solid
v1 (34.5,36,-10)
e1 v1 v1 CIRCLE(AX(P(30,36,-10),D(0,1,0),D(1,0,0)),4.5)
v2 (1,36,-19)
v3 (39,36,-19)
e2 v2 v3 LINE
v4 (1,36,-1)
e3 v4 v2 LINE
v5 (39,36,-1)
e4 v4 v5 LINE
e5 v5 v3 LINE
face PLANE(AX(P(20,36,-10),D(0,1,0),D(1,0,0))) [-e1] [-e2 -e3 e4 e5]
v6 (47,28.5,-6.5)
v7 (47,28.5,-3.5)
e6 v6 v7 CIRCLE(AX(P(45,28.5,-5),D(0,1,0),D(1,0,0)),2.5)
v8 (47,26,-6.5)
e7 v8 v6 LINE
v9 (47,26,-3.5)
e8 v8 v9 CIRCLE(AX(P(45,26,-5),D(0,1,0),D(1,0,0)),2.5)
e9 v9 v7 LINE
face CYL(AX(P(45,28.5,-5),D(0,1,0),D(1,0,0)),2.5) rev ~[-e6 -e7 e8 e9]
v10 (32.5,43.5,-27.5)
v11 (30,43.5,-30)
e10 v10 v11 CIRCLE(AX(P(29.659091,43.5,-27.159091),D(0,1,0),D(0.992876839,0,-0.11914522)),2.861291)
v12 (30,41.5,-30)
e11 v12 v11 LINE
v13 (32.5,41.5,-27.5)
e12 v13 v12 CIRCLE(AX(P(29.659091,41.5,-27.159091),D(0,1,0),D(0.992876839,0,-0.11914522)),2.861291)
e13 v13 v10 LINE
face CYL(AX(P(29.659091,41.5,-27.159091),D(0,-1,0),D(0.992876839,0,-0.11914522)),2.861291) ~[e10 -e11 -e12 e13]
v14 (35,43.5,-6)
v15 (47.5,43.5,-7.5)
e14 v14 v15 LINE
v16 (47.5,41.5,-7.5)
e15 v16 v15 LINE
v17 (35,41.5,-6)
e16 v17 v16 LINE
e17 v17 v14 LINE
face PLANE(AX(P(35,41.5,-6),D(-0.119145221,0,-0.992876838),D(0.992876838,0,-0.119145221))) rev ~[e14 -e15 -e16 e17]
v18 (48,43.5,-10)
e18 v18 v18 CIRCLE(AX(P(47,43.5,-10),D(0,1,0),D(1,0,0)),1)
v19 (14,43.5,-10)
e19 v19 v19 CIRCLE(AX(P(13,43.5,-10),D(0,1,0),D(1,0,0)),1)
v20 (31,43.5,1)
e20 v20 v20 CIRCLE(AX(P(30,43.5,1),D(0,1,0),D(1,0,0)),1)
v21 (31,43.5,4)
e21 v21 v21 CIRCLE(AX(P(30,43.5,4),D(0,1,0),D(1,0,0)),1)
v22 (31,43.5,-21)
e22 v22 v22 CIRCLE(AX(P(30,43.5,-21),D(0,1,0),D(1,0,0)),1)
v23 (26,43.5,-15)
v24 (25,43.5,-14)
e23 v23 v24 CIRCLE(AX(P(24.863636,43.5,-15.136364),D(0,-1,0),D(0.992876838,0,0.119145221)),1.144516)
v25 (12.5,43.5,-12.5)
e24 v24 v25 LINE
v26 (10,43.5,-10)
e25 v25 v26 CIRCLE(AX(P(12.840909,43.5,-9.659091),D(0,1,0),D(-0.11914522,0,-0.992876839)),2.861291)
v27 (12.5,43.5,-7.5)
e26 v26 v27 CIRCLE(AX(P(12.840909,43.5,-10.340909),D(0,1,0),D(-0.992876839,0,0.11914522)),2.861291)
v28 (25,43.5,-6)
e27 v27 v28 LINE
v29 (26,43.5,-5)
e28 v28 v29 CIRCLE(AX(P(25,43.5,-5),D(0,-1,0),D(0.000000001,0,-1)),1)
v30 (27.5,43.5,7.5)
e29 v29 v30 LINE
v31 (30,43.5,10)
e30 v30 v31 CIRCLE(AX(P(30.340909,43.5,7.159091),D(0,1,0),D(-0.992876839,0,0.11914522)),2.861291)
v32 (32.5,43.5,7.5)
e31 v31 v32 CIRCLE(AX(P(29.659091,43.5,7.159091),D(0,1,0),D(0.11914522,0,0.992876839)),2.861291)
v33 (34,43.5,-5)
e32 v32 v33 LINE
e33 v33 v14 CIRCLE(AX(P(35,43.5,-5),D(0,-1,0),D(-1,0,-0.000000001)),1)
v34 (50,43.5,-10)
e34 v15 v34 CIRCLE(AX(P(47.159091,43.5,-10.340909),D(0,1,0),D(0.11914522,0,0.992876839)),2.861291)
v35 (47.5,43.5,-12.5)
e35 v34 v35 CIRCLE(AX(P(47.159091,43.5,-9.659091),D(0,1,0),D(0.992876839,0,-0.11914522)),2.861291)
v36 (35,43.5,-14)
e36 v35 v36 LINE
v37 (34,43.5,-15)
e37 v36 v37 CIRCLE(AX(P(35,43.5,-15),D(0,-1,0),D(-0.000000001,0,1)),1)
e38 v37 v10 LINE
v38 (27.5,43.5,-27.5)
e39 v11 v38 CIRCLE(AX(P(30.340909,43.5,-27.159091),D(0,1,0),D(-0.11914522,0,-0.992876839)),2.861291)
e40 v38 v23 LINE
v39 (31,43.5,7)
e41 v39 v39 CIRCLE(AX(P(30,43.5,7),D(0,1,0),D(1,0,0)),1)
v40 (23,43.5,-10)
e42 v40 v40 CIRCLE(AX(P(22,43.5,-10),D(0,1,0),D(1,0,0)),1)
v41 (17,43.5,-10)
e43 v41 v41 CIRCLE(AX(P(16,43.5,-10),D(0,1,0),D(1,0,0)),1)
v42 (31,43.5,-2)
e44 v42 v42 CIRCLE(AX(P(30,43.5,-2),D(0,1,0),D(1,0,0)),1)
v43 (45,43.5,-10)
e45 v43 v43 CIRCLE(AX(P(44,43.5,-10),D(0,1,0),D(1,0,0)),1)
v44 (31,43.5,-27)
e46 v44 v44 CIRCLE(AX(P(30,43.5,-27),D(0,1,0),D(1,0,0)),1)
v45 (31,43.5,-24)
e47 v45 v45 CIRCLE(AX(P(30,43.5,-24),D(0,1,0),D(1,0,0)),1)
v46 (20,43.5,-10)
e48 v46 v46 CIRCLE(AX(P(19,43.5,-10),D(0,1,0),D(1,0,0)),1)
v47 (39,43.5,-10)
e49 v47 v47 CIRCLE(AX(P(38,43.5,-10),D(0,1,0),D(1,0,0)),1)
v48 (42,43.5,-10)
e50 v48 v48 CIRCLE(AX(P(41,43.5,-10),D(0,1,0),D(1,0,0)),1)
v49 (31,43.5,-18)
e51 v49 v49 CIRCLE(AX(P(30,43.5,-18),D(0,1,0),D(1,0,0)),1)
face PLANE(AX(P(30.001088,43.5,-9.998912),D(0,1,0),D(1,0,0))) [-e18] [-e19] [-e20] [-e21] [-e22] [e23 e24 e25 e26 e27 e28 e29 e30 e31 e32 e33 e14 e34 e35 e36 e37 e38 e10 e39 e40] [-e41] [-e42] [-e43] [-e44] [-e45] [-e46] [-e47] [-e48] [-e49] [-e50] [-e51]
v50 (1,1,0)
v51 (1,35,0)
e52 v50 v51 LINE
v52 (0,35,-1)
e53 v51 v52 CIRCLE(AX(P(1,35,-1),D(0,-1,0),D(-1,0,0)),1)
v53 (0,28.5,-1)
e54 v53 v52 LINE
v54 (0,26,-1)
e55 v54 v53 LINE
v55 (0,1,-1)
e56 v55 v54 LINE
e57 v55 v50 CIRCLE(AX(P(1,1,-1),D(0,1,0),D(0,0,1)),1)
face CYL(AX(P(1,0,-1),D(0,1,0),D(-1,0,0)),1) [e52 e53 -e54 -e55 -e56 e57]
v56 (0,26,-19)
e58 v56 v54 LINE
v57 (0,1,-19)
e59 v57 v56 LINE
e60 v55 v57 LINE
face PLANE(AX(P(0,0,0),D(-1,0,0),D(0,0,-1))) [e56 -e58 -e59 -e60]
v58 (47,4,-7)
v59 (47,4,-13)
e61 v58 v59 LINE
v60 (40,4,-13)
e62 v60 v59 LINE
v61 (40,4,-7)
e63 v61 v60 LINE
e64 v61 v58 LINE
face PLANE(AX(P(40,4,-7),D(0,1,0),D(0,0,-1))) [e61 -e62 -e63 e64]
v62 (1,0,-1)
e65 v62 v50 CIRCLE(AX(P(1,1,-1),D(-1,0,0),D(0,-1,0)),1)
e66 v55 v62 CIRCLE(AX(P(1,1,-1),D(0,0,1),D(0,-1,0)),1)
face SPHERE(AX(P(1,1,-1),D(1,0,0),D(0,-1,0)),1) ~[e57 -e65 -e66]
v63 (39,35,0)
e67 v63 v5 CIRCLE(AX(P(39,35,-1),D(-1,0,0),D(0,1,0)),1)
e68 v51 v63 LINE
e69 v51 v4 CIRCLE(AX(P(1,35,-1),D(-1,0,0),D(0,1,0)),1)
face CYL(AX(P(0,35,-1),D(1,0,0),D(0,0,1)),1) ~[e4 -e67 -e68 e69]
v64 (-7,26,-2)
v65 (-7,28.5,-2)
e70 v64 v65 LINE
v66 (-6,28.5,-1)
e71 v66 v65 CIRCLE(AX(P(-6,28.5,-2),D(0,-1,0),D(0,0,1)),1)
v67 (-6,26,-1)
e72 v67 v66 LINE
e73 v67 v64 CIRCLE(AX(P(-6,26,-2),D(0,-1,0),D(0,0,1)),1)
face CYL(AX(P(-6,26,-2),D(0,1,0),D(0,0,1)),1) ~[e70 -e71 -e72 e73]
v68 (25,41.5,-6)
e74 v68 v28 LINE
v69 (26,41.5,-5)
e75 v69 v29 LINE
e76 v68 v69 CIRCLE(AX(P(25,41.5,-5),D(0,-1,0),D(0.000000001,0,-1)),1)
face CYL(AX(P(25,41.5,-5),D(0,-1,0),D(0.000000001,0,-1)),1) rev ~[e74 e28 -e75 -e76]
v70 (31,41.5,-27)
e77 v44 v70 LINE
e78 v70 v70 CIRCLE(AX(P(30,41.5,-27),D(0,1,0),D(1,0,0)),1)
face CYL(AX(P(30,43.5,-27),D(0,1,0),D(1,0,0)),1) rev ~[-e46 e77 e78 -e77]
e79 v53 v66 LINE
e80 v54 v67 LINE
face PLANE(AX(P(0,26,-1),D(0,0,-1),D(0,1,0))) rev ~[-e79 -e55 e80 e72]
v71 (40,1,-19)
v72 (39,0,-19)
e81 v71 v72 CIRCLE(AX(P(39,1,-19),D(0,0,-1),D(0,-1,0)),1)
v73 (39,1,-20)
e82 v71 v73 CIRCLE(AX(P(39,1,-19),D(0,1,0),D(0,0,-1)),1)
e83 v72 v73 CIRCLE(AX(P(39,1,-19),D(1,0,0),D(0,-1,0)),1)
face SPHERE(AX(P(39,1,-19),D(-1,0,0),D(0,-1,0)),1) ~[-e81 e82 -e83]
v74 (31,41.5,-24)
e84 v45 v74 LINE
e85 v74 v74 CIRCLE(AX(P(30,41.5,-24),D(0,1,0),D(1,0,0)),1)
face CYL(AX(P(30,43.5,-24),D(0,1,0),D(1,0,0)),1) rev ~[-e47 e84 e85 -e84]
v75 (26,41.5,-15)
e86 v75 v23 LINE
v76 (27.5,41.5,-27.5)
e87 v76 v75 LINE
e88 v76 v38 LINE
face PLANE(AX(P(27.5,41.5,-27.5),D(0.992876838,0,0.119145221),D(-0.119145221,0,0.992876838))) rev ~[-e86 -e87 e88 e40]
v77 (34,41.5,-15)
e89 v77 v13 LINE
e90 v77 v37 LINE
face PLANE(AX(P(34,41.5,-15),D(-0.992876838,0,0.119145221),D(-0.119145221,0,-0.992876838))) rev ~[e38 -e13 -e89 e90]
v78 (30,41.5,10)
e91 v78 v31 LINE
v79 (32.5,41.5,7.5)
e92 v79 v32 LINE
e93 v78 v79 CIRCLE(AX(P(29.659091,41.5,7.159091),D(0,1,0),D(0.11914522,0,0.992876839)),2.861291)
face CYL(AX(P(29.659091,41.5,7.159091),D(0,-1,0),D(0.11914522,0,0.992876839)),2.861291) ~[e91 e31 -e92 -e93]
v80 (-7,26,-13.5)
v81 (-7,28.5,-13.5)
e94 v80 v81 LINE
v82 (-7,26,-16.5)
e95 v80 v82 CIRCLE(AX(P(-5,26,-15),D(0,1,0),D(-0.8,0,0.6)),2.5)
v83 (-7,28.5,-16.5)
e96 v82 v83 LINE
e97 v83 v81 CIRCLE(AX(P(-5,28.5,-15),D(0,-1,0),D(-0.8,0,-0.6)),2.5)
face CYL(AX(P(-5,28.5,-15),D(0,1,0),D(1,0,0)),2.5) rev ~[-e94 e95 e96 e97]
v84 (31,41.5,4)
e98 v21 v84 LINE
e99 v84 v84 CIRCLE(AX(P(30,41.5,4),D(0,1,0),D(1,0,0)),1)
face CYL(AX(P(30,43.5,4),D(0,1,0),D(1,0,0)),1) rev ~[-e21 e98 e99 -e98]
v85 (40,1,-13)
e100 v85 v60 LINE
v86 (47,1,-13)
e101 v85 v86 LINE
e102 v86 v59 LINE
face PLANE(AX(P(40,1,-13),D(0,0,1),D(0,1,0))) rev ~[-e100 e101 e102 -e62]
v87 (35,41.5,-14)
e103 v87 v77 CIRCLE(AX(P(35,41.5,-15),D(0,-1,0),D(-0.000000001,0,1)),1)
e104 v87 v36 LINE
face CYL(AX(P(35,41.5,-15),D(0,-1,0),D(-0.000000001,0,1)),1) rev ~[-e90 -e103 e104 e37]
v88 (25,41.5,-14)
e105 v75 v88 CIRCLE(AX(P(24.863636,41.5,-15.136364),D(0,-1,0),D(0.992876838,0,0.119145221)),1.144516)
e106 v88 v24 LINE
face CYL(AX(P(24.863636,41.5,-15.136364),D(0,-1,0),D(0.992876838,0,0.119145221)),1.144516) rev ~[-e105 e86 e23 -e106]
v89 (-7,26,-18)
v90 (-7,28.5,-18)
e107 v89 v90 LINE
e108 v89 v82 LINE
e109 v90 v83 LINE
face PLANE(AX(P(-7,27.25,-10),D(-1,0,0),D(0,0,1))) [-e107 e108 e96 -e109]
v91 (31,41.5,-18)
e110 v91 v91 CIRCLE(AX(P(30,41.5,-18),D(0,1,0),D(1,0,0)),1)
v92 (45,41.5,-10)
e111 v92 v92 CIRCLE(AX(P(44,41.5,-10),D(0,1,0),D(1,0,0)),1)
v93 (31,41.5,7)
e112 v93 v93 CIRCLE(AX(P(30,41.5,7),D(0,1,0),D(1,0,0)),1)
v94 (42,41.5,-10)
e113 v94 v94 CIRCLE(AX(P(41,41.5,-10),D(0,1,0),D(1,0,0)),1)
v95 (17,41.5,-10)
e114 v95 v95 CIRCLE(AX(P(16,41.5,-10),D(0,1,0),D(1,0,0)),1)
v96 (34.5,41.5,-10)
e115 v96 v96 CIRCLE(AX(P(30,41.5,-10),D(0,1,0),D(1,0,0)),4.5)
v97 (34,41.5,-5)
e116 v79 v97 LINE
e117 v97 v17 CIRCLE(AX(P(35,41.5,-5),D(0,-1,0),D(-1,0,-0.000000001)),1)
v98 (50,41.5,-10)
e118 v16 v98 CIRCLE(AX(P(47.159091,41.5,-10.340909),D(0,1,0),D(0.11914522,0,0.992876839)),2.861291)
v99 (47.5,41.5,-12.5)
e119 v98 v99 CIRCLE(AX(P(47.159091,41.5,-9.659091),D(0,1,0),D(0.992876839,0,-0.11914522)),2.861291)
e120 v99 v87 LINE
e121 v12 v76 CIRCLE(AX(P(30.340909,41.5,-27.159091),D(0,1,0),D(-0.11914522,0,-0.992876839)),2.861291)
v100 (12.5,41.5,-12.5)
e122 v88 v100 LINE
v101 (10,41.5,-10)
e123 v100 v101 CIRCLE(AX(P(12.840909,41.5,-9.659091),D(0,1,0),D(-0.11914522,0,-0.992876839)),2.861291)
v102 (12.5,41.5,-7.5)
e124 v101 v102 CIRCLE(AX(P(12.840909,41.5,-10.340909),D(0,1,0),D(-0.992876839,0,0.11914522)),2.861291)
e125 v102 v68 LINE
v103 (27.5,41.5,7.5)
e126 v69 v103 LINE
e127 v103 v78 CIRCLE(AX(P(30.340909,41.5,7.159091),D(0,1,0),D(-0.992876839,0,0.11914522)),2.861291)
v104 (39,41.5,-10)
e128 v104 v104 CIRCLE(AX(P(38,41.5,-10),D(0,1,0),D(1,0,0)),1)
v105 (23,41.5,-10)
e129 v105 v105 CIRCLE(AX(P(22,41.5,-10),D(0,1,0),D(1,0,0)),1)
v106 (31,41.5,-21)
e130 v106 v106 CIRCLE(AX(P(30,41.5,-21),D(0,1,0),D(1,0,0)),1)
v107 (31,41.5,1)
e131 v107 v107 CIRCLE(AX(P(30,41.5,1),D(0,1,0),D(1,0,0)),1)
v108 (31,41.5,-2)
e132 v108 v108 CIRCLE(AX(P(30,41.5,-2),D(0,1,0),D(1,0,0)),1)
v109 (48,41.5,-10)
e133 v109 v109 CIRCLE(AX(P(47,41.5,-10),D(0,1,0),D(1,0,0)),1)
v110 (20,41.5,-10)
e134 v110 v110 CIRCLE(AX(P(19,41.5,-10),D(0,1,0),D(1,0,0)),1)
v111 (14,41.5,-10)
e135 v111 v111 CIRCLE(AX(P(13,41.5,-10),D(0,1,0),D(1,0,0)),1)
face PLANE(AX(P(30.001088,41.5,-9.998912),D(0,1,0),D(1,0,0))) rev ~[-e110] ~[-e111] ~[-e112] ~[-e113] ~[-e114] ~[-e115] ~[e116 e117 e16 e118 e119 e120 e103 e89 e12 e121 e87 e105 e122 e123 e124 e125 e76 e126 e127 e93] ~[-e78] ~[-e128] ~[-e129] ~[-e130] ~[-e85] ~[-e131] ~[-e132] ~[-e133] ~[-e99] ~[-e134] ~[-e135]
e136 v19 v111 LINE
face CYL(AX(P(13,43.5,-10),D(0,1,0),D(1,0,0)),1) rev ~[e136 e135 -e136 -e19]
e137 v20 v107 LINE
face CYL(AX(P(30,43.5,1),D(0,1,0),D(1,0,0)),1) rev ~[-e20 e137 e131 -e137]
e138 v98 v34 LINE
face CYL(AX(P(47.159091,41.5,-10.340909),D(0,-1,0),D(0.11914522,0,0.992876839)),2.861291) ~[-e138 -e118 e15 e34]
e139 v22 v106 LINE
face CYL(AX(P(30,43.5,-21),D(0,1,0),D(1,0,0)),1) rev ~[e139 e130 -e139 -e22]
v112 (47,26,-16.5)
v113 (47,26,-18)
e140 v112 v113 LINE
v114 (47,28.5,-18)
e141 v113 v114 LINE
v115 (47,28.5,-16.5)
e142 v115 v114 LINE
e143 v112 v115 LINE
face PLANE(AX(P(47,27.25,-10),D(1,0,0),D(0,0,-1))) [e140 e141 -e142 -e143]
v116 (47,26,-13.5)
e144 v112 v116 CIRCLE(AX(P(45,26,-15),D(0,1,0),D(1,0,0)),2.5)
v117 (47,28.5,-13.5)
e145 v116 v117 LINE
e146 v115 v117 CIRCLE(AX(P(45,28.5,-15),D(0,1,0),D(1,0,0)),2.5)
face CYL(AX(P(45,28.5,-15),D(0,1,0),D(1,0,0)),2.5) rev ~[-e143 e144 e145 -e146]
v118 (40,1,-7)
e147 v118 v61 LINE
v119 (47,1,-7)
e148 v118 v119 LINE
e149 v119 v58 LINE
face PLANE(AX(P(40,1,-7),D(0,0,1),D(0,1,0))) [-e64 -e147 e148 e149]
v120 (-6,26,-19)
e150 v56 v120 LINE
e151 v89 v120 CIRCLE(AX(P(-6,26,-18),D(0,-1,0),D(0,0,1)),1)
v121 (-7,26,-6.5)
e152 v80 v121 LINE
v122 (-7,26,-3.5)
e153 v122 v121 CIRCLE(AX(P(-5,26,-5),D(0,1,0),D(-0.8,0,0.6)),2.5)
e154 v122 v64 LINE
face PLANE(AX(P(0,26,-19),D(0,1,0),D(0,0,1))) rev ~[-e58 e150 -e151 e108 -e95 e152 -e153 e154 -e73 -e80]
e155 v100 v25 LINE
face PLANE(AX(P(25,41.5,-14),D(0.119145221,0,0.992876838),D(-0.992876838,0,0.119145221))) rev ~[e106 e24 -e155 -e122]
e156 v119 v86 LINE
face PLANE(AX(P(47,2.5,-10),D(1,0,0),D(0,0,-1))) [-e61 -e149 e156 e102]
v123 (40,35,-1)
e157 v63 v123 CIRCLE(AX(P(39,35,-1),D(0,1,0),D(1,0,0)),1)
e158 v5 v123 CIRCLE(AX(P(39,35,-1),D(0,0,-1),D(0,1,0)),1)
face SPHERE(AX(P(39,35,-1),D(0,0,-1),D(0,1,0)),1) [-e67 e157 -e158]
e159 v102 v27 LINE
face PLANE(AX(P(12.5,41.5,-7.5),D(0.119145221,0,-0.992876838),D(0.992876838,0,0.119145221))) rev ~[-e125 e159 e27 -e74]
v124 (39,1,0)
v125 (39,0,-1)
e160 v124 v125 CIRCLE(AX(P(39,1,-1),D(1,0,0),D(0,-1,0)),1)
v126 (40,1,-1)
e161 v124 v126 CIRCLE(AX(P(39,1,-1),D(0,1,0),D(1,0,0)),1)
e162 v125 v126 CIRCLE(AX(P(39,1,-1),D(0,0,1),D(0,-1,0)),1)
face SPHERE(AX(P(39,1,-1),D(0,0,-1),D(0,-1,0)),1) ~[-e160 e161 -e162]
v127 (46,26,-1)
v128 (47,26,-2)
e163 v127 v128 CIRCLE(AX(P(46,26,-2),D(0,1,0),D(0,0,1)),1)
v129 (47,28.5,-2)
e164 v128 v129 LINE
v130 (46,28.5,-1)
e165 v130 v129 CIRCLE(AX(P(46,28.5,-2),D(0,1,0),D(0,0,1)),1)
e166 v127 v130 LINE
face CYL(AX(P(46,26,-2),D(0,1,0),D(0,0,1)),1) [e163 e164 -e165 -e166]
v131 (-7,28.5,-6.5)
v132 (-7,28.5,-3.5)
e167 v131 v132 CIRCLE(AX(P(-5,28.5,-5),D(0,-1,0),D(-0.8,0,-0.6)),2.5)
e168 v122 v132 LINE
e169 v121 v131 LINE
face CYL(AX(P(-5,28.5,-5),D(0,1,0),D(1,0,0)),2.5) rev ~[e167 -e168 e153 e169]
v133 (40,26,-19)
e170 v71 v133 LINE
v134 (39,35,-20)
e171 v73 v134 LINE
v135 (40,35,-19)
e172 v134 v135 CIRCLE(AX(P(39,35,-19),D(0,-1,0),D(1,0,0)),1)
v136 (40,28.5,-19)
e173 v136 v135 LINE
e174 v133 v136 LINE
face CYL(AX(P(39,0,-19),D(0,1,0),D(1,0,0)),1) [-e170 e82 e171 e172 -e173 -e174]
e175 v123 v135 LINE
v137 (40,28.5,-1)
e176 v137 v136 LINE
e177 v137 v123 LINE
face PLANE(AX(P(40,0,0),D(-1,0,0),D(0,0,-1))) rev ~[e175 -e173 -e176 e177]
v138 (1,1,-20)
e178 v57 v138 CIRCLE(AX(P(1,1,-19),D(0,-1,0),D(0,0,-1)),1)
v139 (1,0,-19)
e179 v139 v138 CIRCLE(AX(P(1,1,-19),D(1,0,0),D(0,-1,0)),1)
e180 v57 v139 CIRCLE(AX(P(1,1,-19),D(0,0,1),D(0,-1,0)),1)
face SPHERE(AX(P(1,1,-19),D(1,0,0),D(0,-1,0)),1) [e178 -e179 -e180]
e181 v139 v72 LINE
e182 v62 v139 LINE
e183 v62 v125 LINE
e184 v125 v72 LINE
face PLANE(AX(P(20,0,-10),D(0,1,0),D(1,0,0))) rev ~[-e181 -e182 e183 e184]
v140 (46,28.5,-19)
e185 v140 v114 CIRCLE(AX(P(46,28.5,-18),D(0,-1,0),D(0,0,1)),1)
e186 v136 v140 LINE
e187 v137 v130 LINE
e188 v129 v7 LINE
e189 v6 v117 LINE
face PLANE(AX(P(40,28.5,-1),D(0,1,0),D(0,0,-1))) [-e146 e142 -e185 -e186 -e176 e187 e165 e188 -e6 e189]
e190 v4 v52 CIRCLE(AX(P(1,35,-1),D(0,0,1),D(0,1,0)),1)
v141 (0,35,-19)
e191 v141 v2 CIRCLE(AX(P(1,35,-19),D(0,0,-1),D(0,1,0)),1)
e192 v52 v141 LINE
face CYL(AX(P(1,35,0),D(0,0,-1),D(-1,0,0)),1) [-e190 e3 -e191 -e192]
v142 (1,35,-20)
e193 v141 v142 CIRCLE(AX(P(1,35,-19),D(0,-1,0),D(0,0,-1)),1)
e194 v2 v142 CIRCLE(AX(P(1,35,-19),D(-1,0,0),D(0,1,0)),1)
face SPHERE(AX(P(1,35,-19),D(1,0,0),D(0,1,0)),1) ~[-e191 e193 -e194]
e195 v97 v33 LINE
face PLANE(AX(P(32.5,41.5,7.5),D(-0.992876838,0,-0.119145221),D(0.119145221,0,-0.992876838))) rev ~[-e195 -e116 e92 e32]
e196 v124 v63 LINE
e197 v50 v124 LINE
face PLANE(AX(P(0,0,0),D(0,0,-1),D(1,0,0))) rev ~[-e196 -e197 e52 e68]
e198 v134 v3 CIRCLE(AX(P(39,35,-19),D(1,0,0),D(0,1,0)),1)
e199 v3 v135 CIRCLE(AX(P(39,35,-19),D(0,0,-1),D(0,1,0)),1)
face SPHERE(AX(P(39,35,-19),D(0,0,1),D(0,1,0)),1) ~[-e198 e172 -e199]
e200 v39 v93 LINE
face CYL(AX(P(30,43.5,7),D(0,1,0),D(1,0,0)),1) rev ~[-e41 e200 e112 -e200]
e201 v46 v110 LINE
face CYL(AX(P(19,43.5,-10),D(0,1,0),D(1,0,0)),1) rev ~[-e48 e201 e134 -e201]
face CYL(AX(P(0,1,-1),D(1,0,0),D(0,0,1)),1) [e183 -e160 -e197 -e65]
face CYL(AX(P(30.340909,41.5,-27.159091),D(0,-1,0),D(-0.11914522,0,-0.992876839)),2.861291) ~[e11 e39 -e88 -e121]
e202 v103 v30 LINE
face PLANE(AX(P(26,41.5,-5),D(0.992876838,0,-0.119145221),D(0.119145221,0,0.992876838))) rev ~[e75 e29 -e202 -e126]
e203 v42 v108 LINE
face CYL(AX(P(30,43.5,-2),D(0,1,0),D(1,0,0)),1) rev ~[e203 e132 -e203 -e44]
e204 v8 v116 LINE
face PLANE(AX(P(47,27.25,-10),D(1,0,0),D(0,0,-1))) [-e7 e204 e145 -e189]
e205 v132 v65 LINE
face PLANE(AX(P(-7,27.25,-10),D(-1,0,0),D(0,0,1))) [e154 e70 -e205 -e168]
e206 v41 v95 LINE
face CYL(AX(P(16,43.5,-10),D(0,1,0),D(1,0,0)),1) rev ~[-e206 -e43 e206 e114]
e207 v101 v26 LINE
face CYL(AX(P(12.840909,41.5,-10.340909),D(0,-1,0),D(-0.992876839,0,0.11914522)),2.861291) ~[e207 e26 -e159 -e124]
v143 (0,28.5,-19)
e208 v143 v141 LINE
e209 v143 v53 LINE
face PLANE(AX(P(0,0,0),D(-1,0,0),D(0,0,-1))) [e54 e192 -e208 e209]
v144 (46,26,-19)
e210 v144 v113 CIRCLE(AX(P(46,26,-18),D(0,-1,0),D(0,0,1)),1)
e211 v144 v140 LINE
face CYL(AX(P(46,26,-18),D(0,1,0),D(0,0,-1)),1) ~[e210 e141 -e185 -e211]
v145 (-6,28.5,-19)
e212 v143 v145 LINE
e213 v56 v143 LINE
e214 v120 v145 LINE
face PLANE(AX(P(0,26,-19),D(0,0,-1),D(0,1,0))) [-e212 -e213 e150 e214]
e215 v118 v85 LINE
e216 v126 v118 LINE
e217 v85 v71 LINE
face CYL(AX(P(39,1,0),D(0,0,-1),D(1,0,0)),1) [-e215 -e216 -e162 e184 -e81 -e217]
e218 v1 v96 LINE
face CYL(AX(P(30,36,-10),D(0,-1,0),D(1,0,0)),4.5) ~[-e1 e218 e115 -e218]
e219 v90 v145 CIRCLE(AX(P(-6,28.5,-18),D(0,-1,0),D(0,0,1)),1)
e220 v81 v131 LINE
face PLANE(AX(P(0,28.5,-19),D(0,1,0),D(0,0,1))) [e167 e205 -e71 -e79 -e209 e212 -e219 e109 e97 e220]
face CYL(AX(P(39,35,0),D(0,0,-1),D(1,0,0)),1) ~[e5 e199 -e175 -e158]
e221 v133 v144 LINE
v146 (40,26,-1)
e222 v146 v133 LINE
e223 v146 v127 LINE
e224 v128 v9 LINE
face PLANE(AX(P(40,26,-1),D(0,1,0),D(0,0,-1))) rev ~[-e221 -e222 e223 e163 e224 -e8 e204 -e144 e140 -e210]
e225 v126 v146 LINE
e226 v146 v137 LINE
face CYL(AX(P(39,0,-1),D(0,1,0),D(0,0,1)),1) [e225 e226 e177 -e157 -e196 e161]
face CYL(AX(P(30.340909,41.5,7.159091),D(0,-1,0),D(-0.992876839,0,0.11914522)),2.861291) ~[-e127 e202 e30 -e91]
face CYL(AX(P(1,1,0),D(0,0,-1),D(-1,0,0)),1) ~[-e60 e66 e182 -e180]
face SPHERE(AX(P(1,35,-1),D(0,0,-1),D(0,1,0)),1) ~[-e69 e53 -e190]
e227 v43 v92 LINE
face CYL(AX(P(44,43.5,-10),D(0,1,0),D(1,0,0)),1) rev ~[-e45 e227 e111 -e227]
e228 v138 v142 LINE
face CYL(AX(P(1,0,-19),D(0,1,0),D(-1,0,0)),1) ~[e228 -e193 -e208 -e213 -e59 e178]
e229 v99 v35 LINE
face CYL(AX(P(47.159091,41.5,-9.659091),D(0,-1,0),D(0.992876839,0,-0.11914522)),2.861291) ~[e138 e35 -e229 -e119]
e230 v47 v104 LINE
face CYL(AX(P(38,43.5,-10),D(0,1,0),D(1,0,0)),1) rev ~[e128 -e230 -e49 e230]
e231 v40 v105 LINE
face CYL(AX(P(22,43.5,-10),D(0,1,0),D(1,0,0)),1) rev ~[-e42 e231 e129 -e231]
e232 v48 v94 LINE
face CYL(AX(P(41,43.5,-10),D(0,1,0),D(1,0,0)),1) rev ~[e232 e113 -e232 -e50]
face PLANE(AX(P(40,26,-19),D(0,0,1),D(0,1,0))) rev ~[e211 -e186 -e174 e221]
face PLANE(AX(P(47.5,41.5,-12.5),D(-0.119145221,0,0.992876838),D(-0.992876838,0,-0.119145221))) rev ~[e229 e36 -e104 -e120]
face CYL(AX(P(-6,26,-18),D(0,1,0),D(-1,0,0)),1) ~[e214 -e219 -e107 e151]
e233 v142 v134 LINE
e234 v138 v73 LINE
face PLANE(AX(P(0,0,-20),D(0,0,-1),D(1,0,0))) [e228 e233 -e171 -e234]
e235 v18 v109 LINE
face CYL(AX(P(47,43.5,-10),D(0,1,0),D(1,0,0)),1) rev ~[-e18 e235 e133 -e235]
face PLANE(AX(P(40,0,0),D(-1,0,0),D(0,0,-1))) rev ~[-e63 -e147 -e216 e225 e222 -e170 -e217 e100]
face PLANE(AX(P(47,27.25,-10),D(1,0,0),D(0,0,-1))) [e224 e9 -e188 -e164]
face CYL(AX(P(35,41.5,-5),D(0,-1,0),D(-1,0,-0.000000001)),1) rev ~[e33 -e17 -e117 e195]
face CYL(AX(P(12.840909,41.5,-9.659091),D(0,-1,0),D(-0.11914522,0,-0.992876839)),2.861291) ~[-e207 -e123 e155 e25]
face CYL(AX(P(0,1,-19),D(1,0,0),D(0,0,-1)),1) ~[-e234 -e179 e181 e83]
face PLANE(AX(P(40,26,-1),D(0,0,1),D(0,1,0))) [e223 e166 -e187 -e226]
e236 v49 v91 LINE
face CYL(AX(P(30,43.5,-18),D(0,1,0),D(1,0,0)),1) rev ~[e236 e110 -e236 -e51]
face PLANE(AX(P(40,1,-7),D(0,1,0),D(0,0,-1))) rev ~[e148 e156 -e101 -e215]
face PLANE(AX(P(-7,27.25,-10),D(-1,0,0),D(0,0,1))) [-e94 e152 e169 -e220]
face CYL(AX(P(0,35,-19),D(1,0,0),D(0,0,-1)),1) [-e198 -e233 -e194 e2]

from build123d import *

# Parameters (mm, degrees)
SKETCH2_W           = 40
SKETCH2_H           = 20
BOSS_EXTRUDE1_DEPTH = 36
FILLET1_R           = 1
SKETCH4_W           = 18
SKETCH4_H           = 2.5
BOSS_EXTRUDE2_DEPTH = 7
CUT_EXTRUDE1_REACH  = 30.5
SKETCH5_R           = 2.5
FILLET2_R           = 1
SKETCH7_W           = 18
SKETCH7_H           = 2.5
BOSS_EXTRUDE3_DEPTH = 7
FILLET3_R           = 1
CUT_EXTRUDE2_REACH  = 30.5
SKETCH8_R           = 2.5
SKETCH9_R           = 4.5
BOSS_EXTRUDE4_DEPTH = 5.5
BOSS_EXTRUDE5_DEPTH = 2
CUT_EXTRUDE3_REACH  = 45.5
SKETCH11_R          = 1
SKETCH12_W          = 6
SKETCH12_H          = 3
BOSS_EXTRUDE6_DEPTH = 7


with BuildPart() as part:
    # Sketch2 → Boss-Extrude1 (new body)
    with BuildSketch(Plane(origin=(0, 0, 0), x_dir=(1, 0, 0), z_dir=(0, 1, 0))):
        with Locations((20, 10)):
            Rectangle(SKETCH2_W, SKETCH2_H)
    extrude(amount=BOSS_EXTRUDE1_DEPTH)

    # Fillet1
    fillet1_edges = [part.edges().sort_by_distance(p)[0] for p in [
        (40, 36, -10),
        (20, 36, -20),
        (0, 36, -10),
        (20, 0, -20),
        (40, 0, -10),
        (20, 0, 0),
        (0, 0, -10),
        (20, 36, 0),
        (0, 18, -20),
        (40, 18, -20),
        (40, 18, 0),
        (0, 18, 0),
    ]]
    fillet(fillet1_edges, radius=FILLET1_R)

    # Sketch4 → Boss-Extrude2 (add)
    with BuildSketch(Plane(origin=(40, 0, 0), x_dir=(0, 0, -1), z_dir=(1, 0, 0))):
        with Locations((10, 27.25)):
            Rectangle(SKETCH4_W, SKETCH4_H)
    extrude(amount=BOSS_EXTRUDE2_DEPTH)

    # Sketch5 → Cut-Extrude1 (cut, up to next)
    with BuildSketch(Plane(origin=(0, 28.5, 0), x_dir=(1, 0, 0), z_dir=(0, 1, 0)), mode=Mode.PRIVATE) as cut_extrude1_sk1:
        with Locations((45, 5)):
            Circle(SKETCH5_R)
    cut_extrude1_tool1 = extrude(cut_extrude1_sk1.sketch, amount=-CUT_EXTRUDE1_REACH, mode=Mode.PRIVATE) & part.part
    add(cut_extrude1_tool1.solids().sort_by_distance((45, 28.5, -5))[0], mode=Mode.SUBTRACT)
    # Sketch5 → Cut-Extrude1 (cut, up to next)
    with BuildSketch(Plane(origin=(0, 28.5, 0), x_dir=(1, 0, 0), z_dir=(0, 1, 0)), mode=Mode.PRIVATE) as cut_extrude1_sk2:
        with Locations((45, 15)):
            Circle(SKETCH5_R)
    cut_extrude1_tool2 = extrude(cut_extrude1_sk2.sketch, amount=-CUT_EXTRUDE1_REACH, mode=Mode.PRIVATE) & part.part
    add(cut_extrude1_tool2.solids().sort_by_distance((45, 28.5, -15))[0], mode=Mode.SUBTRACT)

    # Fillet2
    fillet2_edges = [part.edges().sort_by_distance(p)[0] for p in [
        (47, 27.25, -19),
        (47, 27.25, -1),
    ]]
    fillet(fillet2_edges, radius=FILLET2_R)

    # Sketch7 → Boss-Extrude3 (add)
    with BuildSketch(Plane.ZY):
        with Locations((-10, 27.25)):
            Rectangle(SKETCH7_W, SKETCH7_H)
    extrude(amount=BOSS_EXTRUDE3_DEPTH)

    # Fillet3
    fillet3_edges = [part.edges().sort_by_distance(p)[0] for p in [
        (-7, 27.25, -19),
        (-7, 27.25, -1),
    ]]
    fillet(fillet3_edges, radius=FILLET3_R)

    # Sketch8 → Cut-Extrude2 (cut, up to next)
    with BuildSketch(Plane(origin=(0, 28.5, 0), x_dir=(1, 0, 0), z_dir=(0, 1, 0)), mode=Mode.PRIVATE) as cut_extrude2_sk1:
        with Locations((-5, 15)):
            Circle(SKETCH8_R)
    cut_extrude2_tool1 = extrude(cut_extrude2_sk1.sketch, amount=-CUT_EXTRUDE2_REACH, mode=Mode.PRIVATE) & part.part
    add(cut_extrude2_tool1.solids().sort_by_distance((-5, 28.5, -15))[0], mode=Mode.SUBTRACT)
    # Sketch8 → Cut-Extrude2 (cut, up to next)
    with BuildSketch(Plane(origin=(0, 28.5, 0), x_dir=(1, 0, 0), z_dir=(0, 1, 0)), mode=Mode.PRIVATE) as cut_extrude2_sk2:
        with Locations((-5, 5)):
            Circle(SKETCH8_R)
    cut_extrude2_tool2 = extrude(cut_extrude2_sk2.sketch, amount=-CUT_EXTRUDE2_REACH, mode=Mode.PRIVATE) & part.part
    add(cut_extrude2_tool2.solids().sort_by_distance((-5, 28.5, -5))[0], mode=Mode.SUBTRACT)

    # Sketch9 → Boss-Extrude4 (add)
    with BuildSketch(Plane(origin=(0, 36, 0), x_dir=(1, 0, 0), z_dir=(0, 1, 0))):
        with Locations((30, 10)):
            Circle(SKETCH9_R)
    extrude(amount=BOSS_EXTRUDE4_DEPTH)

    # Sketch10 → Boss-Extrude5 (add)
    with BuildSketch(Plane(origin=(0, 41.5, 0), x_dir=(1, 0, 0), z_dir=(0, 1, 0))):
        with BuildLine():
            Line((27.5, 27.5), (26, 15))
            ThreePointArc((26, 15), (25.672931537, 14.327068463), (25, 14))
            Line((25, 14), (12.5, 12.5))
            ThreePointArc((12.5, 12.5), (10.817671157, 11.682328843), (10, 10))
            ThreePointArc((10, 10), (10.817671157, 8.317671157), (12.5, 7.5))
            Line((12.5, 7.5), (25, 6))
            ThreePointArc((25, 6), (25.707106781, 5.707106781), (26, 5))
            Line((26, 5), (27.5, -7.5))
            ThreePointArc((27.5, -7.5), (28.317671157, -9.182328843), (30, -10))
            ThreePointArc((30, -10), (31.682328843, -9.182328843), (32.5, -7.5))
            Line((32.5, -7.5), (34, 5))
            ThreePointArc((34, 5), (34.292893219, 5.707106781), (35, 6))
            Line((35, 6), (47.5, 7.5))
            ThreePointArc((47.5, 7.5), (49.182328843, 8.317671157), (50, 10))
            ThreePointArc((50, 10), (49.182328843, 11.682328843), (47.5, 12.5))
            Line((47.5, 12.5), (35, 14))
            ThreePointArc((35, 14), (34.292893219, 14.292893219), (34, 15))
            Line((34, 15), (32.5, 27.5))
            ThreePointArc((32.5, 27.5), (31.682328843, 29.182328843), (30, 30))
            ThreePointArc((30, 30), (28.317671157, 29.182328843), (27.5, 27.5))
        make_face()
    extrude(amount=BOSS_EXTRUDE5_DEPTH)

    # Sketch11 → Cut-Extrude3 (cut, up to next)
    with BuildSketch(Plane(origin=(0, 43.5, 0), x_dir=(1, 0, 0), z_dir=(0, 1, 0)), mode=Mode.PRIVATE) as cut_extrude3_sk1:
        with Locations((30, 27)):
            Circle(SKETCH11_R)
    cut_extrude3_tool1 = extrude(cut_extrude3_sk1.sketch, amount=-CUT_EXTRUDE3_REACH, mode=Mode.PRIVATE) & part.part
    add(cut_extrude3_tool1.solids().sort_by_distance((30, 43.5, -27))[0], mode=Mode.SUBTRACT)
    # Sketch11 → Cut-Extrude3 (cut, up to next)
    with BuildSketch(Plane(origin=(0, 43.5, 0), x_dir=(1, 0, 0), z_dir=(0, 1, 0)), mode=Mode.PRIVATE) as cut_extrude3_sk2:
        with Locations((30, 24)):
            Circle(SKETCH11_R)
    cut_extrude3_tool2 = extrude(cut_extrude3_sk2.sketch, amount=-CUT_EXTRUDE3_REACH, mode=Mode.PRIVATE) & part.part
    add(cut_extrude3_tool2.solids().sort_by_distance((30, 43.5, -24))[0], mode=Mode.SUBTRACT)
    # Sketch11 → Cut-Extrude3 (cut, up to next)
    with BuildSketch(Plane(origin=(0, 43.5, 0), x_dir=(1, 0, 0), z_dir=(0, 1, 0)), mode=Mode.PRIVATE) as cut_extrude3_sk3:
        with Locations((30, 21)):
            Circle(SKETCH11_R)
    cut_extrude3_tool3 = extrude(cut_extrude3_sk3.sketch, amount=-CUT_EXTRUDE3_REACH, mode=Mode.PRIVATE) & part.part
    add(cut_extrude3_tool3.solids().sort_by_distance((30, 43.5, -21))[0], mode=Mode.SUBTRACT)
    # Sketch11 → Cut-Extrude3 (cut, up to next)
    with BuildSketch(Plane(origin=(0, 43.5, 0), x_dir=(1, 0, 0), z_dir=(0, 1, 0)), mode=Mode.PRIVATE) as cut_extrude3_sk4:
        with Locations((30, 18)):
            Circle(SKETCH11_R)
    cut_extrude3_tool4 = extrude(cut_extrude3_sk4.sketch, amount=-CUT_EXTRUDE3_REACH, mode=Mode.PRIVATE) & part.part
    add(cut_extrude3_tool4.solids().sort_by_distance((30, 43.5, -18))[0], mode=Mode.SUBTRACT)
    # Sketch11 → Cut-Extrude3 (cut, up to next)
    with BuildSketch(Plane(origin=(0, 43.5, 0), x_dir=(1, 0, 0), z_dir=(0, 1, 0)), mode=Mode.PRIVATE) as cut_extrude3_sk5:
        with Locations((47, 10)):
            Circle(SKETCH11_R)
    cut_extrude3_tool5 = extrude(cut_extrude3_sk5.sketch, amount=-CUT_EXTRUDE3_REACH, mode=Mode.PRIVATE) & part.part
    add(cut_extrude3_tool5.solids().sort_by_distance((47, 43.5, -10))[0], mode=Mode.SUBTRACT)
    # Sketch11 → Cut-Extrude3 (cut, up to next)
    with BuildSketch(Plane(origin=(0, 43.5, 0), x_dir=(1, 0, 0), z_dir=(0, 1, 0)), mode=Mode.PRIVATE) as cut_extrude3_sk6:
        with Locations((44, 10)):
            Circle(SKETCH11_R)
    cut_extrude3_tool6 = extrude(cut_extrude3_sk6.sketch, amount=-CUT_EXTRUDE3_REACH, mode=Mode.PRIVATE) & part.part
    add(cut_extrude3_tool6.solids().sort_by_distance((44, 43.5, -10))[0], mode=Mode.SUBTRACT)
    # Sketch11 → Cut-Extrude3 (cut, up to next)
    with BuildSketch(Plane(origin=(0, 43.5, 0), x_dir=(1, 0, 0), z_dir=(0, 1, 0)), mode=Mode.PRIVATE) as cut_extrude3_sk7:
        with Locations((41, 10)):
            Circle(SKETCH11_R)
    cut_extrude3_tool7 = extrude(cut_extrude3_sk7.sketch, amount=-CUT_EXTRUDE3_REACH, mode=Mode.PRIVATE) & part.part
    add(cut_extrude3_tool7.solids().sort_by_distance((41, 43.5, -10))[0], mode=Mode.SUBTRACT)
    # Sketch11 → Cut-Extrude3 (cut, up to next)
    with BuildSketch(Plane(origin=(0, 43.5, 0), x_dir=(1, 0, 0), z_dir=(0, 1, 0)), mode=Mode.PRIVATE) as cut_extrude3_sk8:
        with Locations((38, 10)):
            Circle(SKETCH11_R)
    cut_extrude3_tool8 = extrude(cut_extrude3_sk8.sketch, amount=-CUT_EXTRUDE3_REACH, mode=Mode.PRIVATE) & part.part
    add(cut_extrude3_tool8.solids().sort_by_distance((38, 43.5, -10))[0], mode=Mode.SUBTRACT)
    # Sketch11 → Cut-Extrude3 (cut, up to next)
    with BuildSketch(Plane(origin=(0, 43.5, 0), x_dir=(1, 0, 0), z_dir=(0, 1, 0)), mode=Mode.PRIVATE) as cut_extrude3_sk9:
        with Locations((30, -7)):
            Circle(SKETCH11_R)
    cut_extrude3_tool9 = extrude(cut_extrude3_sk9.sketch, amount=-CUT_EXTRUDE3_REACH, mode=Mode.PRIVATE) & part.part
    add(cut_extrude3_tool9.solids().sort_by_distance((30, 43.5, 7))[0], mode=Mode.SUBTRACT)
    # Sketch11 → Cut-Extrude3 (cut, up to next)
    with BuildSketch(Plane(origin=(0, 43.5, 0), x_dir=(1, 0, 0), z_dir=(0, 1, 0)), mode=Mode.PRIVATE) as cut_extrude3_sk10:
        with Locations((30, -4)):
            Circle(SKETCH11_R)
    cut_extrude3_tool10 = extrude(cut_extrude3_sk10.sketch, amount=-CUT_EXTRUDE3_REACH, mode=Mode.PRIVATE) & part.part
    add(cut_extrude3_tool10.solids().sort_by_distance((30, 43.5, 4))[0], mode=Mode.SUBTRACT)
    # Sketch11 → Cut-Extrude3 (cut, up to next)
    with BuildSketch(Plane(origin=(0, 43.5, 0), x_dir=(1, 0, 0), z_dir=(0, 1, 0)), mode=Mode.PRIVATE) as cut_extrude3_sk11:
        with Locations((30, -1)):
            Circle(SKETCH11_R)
    cut_extrude3_tool11 = extrude(cut_extrude3_sk11.sketch, amount=-CUT_EXTRUDE3_REACH, mode=Mode.PRIVATE) & part.part
    add(cut_extrude3_tool11.solids().sort_by_distance((30, 43.5, 1))[0], mode=Mode.SUBTRACT)
    # Sketch11 → Cut-Extrude3 (cut, up to next)
    with BuildSketch(Plane(origin=(0, 43.5, 0), x_dir=(1, 0, 0), z_dir=(0, 1, 0)), mode=Mode.PRIVATE) as cut_extrude3_sk12:
        with Locations((30, 2)):
            Circle(SKETCH11_R)
    cut_extrude3_tool12 = extrude(cut_extrude3_sk12.sketch, amount=-CUT_EXTRUDE3_REACH, mode=Mode.PRIVATE) & part.part
    add(cut_extrude3_tool12.solids().sort_by_distance((30, 43.5, -2))[0], mode=Mode.SUBTRACT)
    # Sketch11 → Cut-Extrude3 (cut, up to next)
    with BuildSketch(Plane(origin=(0, 43.5, 0), x_dir=(1, 0, 0), z_dir=(0, 1, 0)), mode=Mode.PRIVATE) as cut_extrude3_sk13:
        with Locations((13, 10)):
            Circle(SKETCH11_R)
    cut_extrude3_tool13 = extrude(cut_extrude3_sk13.sketch, amount=-CUT_EXTRUDE3_REACH, mode=Mode.PRIVATE) & part.part
    add(cut_extrude3_tool13.solids().sort_by_distance((13, 43.5, -10))[0], mode=Mode.SUBTRACT)
    # Sketch11 → Cut-Extrude3 (cut, up to next)
    with BuildSketch(Plane(origin=(0, 43.5, 0), x_dir=(1, 0, 0), z_dir=(0, 1, 0)), mode=Mode.PRIVATE) as cut_extrude3_sk14:
        with Locations((16, 10)):
            Circle(SKETCH11_R)
    cut_extrude3_tool14 = extrude(cut_extrude3_sk14.sketch, amount=-CUT_EXTRUDE3_REACH, mode=Mode.PRIVATE) & part.part
    add(cut_extrude3_tool14.solids().sort_by_distance((16, 43.5, -10))[0], mode=Mode.SUBTRACT)
    # Sketch11 → Cut-Extrude3 (cut, up to next)
    with BuildSketch(Plane(origin=(0, 43.5, 0), x_dir=(1, 0, 0), z_dir=(0, 1, 0)), mode=Mode.PRIVATE) as cut_extrude3_sk15:
        with Locations((19, 10)):
            Circle(SKETCH11_R)
    cut_extrude3_tool15 = extrude(cut_extrude3_sk15.sketch, amount=-CUT_EXTRUDE3_REACH, mode=Mode.PRIVATE) & part.part
    add(cut_extrude3_tool15.solids().sort_by_distance((19, 43.5, -10))[0], mode=Mode.SUBTRACT)
    # Sketch11 → Cut-Extrude3 (cut, up to next)
    with BuildSketch(Plane(origin=(0, 43.5, 0), x_dir=(1, 0, 0), z_dir=(0, 1, 0)), mode=Mode.PRIVATE) as cut_extrude3_sk16:
        with Locations((22, 10)):
            Circle(SKETCH11_R)
    cut_extrude3_tool16 = extrude(cut_extrude3_sk16.sketch, amount=-CUT_EXTRUDE3_REACH, mode=Mode.PRIVATE) & part.part
    add(cut_extrude3_tool16.solids().sort_by_distance((22, 43.5, -10))[0], mode=Mode.SUBTRACT)

    # Sketch12 → Boss-Extrude6 (add)
    with BuildSketch(Plane(origin=(40, 0, 0), x_dir=(0, 0, -1), z_dir=(1, 0, 0))):
        with Locations((10, 2.5)):
            Rectangle(SKETCH12_W, SKETCH12_H)
    extrude(amount=BOSS_EXTRUDE6_DEPTH)


solid = part.part
